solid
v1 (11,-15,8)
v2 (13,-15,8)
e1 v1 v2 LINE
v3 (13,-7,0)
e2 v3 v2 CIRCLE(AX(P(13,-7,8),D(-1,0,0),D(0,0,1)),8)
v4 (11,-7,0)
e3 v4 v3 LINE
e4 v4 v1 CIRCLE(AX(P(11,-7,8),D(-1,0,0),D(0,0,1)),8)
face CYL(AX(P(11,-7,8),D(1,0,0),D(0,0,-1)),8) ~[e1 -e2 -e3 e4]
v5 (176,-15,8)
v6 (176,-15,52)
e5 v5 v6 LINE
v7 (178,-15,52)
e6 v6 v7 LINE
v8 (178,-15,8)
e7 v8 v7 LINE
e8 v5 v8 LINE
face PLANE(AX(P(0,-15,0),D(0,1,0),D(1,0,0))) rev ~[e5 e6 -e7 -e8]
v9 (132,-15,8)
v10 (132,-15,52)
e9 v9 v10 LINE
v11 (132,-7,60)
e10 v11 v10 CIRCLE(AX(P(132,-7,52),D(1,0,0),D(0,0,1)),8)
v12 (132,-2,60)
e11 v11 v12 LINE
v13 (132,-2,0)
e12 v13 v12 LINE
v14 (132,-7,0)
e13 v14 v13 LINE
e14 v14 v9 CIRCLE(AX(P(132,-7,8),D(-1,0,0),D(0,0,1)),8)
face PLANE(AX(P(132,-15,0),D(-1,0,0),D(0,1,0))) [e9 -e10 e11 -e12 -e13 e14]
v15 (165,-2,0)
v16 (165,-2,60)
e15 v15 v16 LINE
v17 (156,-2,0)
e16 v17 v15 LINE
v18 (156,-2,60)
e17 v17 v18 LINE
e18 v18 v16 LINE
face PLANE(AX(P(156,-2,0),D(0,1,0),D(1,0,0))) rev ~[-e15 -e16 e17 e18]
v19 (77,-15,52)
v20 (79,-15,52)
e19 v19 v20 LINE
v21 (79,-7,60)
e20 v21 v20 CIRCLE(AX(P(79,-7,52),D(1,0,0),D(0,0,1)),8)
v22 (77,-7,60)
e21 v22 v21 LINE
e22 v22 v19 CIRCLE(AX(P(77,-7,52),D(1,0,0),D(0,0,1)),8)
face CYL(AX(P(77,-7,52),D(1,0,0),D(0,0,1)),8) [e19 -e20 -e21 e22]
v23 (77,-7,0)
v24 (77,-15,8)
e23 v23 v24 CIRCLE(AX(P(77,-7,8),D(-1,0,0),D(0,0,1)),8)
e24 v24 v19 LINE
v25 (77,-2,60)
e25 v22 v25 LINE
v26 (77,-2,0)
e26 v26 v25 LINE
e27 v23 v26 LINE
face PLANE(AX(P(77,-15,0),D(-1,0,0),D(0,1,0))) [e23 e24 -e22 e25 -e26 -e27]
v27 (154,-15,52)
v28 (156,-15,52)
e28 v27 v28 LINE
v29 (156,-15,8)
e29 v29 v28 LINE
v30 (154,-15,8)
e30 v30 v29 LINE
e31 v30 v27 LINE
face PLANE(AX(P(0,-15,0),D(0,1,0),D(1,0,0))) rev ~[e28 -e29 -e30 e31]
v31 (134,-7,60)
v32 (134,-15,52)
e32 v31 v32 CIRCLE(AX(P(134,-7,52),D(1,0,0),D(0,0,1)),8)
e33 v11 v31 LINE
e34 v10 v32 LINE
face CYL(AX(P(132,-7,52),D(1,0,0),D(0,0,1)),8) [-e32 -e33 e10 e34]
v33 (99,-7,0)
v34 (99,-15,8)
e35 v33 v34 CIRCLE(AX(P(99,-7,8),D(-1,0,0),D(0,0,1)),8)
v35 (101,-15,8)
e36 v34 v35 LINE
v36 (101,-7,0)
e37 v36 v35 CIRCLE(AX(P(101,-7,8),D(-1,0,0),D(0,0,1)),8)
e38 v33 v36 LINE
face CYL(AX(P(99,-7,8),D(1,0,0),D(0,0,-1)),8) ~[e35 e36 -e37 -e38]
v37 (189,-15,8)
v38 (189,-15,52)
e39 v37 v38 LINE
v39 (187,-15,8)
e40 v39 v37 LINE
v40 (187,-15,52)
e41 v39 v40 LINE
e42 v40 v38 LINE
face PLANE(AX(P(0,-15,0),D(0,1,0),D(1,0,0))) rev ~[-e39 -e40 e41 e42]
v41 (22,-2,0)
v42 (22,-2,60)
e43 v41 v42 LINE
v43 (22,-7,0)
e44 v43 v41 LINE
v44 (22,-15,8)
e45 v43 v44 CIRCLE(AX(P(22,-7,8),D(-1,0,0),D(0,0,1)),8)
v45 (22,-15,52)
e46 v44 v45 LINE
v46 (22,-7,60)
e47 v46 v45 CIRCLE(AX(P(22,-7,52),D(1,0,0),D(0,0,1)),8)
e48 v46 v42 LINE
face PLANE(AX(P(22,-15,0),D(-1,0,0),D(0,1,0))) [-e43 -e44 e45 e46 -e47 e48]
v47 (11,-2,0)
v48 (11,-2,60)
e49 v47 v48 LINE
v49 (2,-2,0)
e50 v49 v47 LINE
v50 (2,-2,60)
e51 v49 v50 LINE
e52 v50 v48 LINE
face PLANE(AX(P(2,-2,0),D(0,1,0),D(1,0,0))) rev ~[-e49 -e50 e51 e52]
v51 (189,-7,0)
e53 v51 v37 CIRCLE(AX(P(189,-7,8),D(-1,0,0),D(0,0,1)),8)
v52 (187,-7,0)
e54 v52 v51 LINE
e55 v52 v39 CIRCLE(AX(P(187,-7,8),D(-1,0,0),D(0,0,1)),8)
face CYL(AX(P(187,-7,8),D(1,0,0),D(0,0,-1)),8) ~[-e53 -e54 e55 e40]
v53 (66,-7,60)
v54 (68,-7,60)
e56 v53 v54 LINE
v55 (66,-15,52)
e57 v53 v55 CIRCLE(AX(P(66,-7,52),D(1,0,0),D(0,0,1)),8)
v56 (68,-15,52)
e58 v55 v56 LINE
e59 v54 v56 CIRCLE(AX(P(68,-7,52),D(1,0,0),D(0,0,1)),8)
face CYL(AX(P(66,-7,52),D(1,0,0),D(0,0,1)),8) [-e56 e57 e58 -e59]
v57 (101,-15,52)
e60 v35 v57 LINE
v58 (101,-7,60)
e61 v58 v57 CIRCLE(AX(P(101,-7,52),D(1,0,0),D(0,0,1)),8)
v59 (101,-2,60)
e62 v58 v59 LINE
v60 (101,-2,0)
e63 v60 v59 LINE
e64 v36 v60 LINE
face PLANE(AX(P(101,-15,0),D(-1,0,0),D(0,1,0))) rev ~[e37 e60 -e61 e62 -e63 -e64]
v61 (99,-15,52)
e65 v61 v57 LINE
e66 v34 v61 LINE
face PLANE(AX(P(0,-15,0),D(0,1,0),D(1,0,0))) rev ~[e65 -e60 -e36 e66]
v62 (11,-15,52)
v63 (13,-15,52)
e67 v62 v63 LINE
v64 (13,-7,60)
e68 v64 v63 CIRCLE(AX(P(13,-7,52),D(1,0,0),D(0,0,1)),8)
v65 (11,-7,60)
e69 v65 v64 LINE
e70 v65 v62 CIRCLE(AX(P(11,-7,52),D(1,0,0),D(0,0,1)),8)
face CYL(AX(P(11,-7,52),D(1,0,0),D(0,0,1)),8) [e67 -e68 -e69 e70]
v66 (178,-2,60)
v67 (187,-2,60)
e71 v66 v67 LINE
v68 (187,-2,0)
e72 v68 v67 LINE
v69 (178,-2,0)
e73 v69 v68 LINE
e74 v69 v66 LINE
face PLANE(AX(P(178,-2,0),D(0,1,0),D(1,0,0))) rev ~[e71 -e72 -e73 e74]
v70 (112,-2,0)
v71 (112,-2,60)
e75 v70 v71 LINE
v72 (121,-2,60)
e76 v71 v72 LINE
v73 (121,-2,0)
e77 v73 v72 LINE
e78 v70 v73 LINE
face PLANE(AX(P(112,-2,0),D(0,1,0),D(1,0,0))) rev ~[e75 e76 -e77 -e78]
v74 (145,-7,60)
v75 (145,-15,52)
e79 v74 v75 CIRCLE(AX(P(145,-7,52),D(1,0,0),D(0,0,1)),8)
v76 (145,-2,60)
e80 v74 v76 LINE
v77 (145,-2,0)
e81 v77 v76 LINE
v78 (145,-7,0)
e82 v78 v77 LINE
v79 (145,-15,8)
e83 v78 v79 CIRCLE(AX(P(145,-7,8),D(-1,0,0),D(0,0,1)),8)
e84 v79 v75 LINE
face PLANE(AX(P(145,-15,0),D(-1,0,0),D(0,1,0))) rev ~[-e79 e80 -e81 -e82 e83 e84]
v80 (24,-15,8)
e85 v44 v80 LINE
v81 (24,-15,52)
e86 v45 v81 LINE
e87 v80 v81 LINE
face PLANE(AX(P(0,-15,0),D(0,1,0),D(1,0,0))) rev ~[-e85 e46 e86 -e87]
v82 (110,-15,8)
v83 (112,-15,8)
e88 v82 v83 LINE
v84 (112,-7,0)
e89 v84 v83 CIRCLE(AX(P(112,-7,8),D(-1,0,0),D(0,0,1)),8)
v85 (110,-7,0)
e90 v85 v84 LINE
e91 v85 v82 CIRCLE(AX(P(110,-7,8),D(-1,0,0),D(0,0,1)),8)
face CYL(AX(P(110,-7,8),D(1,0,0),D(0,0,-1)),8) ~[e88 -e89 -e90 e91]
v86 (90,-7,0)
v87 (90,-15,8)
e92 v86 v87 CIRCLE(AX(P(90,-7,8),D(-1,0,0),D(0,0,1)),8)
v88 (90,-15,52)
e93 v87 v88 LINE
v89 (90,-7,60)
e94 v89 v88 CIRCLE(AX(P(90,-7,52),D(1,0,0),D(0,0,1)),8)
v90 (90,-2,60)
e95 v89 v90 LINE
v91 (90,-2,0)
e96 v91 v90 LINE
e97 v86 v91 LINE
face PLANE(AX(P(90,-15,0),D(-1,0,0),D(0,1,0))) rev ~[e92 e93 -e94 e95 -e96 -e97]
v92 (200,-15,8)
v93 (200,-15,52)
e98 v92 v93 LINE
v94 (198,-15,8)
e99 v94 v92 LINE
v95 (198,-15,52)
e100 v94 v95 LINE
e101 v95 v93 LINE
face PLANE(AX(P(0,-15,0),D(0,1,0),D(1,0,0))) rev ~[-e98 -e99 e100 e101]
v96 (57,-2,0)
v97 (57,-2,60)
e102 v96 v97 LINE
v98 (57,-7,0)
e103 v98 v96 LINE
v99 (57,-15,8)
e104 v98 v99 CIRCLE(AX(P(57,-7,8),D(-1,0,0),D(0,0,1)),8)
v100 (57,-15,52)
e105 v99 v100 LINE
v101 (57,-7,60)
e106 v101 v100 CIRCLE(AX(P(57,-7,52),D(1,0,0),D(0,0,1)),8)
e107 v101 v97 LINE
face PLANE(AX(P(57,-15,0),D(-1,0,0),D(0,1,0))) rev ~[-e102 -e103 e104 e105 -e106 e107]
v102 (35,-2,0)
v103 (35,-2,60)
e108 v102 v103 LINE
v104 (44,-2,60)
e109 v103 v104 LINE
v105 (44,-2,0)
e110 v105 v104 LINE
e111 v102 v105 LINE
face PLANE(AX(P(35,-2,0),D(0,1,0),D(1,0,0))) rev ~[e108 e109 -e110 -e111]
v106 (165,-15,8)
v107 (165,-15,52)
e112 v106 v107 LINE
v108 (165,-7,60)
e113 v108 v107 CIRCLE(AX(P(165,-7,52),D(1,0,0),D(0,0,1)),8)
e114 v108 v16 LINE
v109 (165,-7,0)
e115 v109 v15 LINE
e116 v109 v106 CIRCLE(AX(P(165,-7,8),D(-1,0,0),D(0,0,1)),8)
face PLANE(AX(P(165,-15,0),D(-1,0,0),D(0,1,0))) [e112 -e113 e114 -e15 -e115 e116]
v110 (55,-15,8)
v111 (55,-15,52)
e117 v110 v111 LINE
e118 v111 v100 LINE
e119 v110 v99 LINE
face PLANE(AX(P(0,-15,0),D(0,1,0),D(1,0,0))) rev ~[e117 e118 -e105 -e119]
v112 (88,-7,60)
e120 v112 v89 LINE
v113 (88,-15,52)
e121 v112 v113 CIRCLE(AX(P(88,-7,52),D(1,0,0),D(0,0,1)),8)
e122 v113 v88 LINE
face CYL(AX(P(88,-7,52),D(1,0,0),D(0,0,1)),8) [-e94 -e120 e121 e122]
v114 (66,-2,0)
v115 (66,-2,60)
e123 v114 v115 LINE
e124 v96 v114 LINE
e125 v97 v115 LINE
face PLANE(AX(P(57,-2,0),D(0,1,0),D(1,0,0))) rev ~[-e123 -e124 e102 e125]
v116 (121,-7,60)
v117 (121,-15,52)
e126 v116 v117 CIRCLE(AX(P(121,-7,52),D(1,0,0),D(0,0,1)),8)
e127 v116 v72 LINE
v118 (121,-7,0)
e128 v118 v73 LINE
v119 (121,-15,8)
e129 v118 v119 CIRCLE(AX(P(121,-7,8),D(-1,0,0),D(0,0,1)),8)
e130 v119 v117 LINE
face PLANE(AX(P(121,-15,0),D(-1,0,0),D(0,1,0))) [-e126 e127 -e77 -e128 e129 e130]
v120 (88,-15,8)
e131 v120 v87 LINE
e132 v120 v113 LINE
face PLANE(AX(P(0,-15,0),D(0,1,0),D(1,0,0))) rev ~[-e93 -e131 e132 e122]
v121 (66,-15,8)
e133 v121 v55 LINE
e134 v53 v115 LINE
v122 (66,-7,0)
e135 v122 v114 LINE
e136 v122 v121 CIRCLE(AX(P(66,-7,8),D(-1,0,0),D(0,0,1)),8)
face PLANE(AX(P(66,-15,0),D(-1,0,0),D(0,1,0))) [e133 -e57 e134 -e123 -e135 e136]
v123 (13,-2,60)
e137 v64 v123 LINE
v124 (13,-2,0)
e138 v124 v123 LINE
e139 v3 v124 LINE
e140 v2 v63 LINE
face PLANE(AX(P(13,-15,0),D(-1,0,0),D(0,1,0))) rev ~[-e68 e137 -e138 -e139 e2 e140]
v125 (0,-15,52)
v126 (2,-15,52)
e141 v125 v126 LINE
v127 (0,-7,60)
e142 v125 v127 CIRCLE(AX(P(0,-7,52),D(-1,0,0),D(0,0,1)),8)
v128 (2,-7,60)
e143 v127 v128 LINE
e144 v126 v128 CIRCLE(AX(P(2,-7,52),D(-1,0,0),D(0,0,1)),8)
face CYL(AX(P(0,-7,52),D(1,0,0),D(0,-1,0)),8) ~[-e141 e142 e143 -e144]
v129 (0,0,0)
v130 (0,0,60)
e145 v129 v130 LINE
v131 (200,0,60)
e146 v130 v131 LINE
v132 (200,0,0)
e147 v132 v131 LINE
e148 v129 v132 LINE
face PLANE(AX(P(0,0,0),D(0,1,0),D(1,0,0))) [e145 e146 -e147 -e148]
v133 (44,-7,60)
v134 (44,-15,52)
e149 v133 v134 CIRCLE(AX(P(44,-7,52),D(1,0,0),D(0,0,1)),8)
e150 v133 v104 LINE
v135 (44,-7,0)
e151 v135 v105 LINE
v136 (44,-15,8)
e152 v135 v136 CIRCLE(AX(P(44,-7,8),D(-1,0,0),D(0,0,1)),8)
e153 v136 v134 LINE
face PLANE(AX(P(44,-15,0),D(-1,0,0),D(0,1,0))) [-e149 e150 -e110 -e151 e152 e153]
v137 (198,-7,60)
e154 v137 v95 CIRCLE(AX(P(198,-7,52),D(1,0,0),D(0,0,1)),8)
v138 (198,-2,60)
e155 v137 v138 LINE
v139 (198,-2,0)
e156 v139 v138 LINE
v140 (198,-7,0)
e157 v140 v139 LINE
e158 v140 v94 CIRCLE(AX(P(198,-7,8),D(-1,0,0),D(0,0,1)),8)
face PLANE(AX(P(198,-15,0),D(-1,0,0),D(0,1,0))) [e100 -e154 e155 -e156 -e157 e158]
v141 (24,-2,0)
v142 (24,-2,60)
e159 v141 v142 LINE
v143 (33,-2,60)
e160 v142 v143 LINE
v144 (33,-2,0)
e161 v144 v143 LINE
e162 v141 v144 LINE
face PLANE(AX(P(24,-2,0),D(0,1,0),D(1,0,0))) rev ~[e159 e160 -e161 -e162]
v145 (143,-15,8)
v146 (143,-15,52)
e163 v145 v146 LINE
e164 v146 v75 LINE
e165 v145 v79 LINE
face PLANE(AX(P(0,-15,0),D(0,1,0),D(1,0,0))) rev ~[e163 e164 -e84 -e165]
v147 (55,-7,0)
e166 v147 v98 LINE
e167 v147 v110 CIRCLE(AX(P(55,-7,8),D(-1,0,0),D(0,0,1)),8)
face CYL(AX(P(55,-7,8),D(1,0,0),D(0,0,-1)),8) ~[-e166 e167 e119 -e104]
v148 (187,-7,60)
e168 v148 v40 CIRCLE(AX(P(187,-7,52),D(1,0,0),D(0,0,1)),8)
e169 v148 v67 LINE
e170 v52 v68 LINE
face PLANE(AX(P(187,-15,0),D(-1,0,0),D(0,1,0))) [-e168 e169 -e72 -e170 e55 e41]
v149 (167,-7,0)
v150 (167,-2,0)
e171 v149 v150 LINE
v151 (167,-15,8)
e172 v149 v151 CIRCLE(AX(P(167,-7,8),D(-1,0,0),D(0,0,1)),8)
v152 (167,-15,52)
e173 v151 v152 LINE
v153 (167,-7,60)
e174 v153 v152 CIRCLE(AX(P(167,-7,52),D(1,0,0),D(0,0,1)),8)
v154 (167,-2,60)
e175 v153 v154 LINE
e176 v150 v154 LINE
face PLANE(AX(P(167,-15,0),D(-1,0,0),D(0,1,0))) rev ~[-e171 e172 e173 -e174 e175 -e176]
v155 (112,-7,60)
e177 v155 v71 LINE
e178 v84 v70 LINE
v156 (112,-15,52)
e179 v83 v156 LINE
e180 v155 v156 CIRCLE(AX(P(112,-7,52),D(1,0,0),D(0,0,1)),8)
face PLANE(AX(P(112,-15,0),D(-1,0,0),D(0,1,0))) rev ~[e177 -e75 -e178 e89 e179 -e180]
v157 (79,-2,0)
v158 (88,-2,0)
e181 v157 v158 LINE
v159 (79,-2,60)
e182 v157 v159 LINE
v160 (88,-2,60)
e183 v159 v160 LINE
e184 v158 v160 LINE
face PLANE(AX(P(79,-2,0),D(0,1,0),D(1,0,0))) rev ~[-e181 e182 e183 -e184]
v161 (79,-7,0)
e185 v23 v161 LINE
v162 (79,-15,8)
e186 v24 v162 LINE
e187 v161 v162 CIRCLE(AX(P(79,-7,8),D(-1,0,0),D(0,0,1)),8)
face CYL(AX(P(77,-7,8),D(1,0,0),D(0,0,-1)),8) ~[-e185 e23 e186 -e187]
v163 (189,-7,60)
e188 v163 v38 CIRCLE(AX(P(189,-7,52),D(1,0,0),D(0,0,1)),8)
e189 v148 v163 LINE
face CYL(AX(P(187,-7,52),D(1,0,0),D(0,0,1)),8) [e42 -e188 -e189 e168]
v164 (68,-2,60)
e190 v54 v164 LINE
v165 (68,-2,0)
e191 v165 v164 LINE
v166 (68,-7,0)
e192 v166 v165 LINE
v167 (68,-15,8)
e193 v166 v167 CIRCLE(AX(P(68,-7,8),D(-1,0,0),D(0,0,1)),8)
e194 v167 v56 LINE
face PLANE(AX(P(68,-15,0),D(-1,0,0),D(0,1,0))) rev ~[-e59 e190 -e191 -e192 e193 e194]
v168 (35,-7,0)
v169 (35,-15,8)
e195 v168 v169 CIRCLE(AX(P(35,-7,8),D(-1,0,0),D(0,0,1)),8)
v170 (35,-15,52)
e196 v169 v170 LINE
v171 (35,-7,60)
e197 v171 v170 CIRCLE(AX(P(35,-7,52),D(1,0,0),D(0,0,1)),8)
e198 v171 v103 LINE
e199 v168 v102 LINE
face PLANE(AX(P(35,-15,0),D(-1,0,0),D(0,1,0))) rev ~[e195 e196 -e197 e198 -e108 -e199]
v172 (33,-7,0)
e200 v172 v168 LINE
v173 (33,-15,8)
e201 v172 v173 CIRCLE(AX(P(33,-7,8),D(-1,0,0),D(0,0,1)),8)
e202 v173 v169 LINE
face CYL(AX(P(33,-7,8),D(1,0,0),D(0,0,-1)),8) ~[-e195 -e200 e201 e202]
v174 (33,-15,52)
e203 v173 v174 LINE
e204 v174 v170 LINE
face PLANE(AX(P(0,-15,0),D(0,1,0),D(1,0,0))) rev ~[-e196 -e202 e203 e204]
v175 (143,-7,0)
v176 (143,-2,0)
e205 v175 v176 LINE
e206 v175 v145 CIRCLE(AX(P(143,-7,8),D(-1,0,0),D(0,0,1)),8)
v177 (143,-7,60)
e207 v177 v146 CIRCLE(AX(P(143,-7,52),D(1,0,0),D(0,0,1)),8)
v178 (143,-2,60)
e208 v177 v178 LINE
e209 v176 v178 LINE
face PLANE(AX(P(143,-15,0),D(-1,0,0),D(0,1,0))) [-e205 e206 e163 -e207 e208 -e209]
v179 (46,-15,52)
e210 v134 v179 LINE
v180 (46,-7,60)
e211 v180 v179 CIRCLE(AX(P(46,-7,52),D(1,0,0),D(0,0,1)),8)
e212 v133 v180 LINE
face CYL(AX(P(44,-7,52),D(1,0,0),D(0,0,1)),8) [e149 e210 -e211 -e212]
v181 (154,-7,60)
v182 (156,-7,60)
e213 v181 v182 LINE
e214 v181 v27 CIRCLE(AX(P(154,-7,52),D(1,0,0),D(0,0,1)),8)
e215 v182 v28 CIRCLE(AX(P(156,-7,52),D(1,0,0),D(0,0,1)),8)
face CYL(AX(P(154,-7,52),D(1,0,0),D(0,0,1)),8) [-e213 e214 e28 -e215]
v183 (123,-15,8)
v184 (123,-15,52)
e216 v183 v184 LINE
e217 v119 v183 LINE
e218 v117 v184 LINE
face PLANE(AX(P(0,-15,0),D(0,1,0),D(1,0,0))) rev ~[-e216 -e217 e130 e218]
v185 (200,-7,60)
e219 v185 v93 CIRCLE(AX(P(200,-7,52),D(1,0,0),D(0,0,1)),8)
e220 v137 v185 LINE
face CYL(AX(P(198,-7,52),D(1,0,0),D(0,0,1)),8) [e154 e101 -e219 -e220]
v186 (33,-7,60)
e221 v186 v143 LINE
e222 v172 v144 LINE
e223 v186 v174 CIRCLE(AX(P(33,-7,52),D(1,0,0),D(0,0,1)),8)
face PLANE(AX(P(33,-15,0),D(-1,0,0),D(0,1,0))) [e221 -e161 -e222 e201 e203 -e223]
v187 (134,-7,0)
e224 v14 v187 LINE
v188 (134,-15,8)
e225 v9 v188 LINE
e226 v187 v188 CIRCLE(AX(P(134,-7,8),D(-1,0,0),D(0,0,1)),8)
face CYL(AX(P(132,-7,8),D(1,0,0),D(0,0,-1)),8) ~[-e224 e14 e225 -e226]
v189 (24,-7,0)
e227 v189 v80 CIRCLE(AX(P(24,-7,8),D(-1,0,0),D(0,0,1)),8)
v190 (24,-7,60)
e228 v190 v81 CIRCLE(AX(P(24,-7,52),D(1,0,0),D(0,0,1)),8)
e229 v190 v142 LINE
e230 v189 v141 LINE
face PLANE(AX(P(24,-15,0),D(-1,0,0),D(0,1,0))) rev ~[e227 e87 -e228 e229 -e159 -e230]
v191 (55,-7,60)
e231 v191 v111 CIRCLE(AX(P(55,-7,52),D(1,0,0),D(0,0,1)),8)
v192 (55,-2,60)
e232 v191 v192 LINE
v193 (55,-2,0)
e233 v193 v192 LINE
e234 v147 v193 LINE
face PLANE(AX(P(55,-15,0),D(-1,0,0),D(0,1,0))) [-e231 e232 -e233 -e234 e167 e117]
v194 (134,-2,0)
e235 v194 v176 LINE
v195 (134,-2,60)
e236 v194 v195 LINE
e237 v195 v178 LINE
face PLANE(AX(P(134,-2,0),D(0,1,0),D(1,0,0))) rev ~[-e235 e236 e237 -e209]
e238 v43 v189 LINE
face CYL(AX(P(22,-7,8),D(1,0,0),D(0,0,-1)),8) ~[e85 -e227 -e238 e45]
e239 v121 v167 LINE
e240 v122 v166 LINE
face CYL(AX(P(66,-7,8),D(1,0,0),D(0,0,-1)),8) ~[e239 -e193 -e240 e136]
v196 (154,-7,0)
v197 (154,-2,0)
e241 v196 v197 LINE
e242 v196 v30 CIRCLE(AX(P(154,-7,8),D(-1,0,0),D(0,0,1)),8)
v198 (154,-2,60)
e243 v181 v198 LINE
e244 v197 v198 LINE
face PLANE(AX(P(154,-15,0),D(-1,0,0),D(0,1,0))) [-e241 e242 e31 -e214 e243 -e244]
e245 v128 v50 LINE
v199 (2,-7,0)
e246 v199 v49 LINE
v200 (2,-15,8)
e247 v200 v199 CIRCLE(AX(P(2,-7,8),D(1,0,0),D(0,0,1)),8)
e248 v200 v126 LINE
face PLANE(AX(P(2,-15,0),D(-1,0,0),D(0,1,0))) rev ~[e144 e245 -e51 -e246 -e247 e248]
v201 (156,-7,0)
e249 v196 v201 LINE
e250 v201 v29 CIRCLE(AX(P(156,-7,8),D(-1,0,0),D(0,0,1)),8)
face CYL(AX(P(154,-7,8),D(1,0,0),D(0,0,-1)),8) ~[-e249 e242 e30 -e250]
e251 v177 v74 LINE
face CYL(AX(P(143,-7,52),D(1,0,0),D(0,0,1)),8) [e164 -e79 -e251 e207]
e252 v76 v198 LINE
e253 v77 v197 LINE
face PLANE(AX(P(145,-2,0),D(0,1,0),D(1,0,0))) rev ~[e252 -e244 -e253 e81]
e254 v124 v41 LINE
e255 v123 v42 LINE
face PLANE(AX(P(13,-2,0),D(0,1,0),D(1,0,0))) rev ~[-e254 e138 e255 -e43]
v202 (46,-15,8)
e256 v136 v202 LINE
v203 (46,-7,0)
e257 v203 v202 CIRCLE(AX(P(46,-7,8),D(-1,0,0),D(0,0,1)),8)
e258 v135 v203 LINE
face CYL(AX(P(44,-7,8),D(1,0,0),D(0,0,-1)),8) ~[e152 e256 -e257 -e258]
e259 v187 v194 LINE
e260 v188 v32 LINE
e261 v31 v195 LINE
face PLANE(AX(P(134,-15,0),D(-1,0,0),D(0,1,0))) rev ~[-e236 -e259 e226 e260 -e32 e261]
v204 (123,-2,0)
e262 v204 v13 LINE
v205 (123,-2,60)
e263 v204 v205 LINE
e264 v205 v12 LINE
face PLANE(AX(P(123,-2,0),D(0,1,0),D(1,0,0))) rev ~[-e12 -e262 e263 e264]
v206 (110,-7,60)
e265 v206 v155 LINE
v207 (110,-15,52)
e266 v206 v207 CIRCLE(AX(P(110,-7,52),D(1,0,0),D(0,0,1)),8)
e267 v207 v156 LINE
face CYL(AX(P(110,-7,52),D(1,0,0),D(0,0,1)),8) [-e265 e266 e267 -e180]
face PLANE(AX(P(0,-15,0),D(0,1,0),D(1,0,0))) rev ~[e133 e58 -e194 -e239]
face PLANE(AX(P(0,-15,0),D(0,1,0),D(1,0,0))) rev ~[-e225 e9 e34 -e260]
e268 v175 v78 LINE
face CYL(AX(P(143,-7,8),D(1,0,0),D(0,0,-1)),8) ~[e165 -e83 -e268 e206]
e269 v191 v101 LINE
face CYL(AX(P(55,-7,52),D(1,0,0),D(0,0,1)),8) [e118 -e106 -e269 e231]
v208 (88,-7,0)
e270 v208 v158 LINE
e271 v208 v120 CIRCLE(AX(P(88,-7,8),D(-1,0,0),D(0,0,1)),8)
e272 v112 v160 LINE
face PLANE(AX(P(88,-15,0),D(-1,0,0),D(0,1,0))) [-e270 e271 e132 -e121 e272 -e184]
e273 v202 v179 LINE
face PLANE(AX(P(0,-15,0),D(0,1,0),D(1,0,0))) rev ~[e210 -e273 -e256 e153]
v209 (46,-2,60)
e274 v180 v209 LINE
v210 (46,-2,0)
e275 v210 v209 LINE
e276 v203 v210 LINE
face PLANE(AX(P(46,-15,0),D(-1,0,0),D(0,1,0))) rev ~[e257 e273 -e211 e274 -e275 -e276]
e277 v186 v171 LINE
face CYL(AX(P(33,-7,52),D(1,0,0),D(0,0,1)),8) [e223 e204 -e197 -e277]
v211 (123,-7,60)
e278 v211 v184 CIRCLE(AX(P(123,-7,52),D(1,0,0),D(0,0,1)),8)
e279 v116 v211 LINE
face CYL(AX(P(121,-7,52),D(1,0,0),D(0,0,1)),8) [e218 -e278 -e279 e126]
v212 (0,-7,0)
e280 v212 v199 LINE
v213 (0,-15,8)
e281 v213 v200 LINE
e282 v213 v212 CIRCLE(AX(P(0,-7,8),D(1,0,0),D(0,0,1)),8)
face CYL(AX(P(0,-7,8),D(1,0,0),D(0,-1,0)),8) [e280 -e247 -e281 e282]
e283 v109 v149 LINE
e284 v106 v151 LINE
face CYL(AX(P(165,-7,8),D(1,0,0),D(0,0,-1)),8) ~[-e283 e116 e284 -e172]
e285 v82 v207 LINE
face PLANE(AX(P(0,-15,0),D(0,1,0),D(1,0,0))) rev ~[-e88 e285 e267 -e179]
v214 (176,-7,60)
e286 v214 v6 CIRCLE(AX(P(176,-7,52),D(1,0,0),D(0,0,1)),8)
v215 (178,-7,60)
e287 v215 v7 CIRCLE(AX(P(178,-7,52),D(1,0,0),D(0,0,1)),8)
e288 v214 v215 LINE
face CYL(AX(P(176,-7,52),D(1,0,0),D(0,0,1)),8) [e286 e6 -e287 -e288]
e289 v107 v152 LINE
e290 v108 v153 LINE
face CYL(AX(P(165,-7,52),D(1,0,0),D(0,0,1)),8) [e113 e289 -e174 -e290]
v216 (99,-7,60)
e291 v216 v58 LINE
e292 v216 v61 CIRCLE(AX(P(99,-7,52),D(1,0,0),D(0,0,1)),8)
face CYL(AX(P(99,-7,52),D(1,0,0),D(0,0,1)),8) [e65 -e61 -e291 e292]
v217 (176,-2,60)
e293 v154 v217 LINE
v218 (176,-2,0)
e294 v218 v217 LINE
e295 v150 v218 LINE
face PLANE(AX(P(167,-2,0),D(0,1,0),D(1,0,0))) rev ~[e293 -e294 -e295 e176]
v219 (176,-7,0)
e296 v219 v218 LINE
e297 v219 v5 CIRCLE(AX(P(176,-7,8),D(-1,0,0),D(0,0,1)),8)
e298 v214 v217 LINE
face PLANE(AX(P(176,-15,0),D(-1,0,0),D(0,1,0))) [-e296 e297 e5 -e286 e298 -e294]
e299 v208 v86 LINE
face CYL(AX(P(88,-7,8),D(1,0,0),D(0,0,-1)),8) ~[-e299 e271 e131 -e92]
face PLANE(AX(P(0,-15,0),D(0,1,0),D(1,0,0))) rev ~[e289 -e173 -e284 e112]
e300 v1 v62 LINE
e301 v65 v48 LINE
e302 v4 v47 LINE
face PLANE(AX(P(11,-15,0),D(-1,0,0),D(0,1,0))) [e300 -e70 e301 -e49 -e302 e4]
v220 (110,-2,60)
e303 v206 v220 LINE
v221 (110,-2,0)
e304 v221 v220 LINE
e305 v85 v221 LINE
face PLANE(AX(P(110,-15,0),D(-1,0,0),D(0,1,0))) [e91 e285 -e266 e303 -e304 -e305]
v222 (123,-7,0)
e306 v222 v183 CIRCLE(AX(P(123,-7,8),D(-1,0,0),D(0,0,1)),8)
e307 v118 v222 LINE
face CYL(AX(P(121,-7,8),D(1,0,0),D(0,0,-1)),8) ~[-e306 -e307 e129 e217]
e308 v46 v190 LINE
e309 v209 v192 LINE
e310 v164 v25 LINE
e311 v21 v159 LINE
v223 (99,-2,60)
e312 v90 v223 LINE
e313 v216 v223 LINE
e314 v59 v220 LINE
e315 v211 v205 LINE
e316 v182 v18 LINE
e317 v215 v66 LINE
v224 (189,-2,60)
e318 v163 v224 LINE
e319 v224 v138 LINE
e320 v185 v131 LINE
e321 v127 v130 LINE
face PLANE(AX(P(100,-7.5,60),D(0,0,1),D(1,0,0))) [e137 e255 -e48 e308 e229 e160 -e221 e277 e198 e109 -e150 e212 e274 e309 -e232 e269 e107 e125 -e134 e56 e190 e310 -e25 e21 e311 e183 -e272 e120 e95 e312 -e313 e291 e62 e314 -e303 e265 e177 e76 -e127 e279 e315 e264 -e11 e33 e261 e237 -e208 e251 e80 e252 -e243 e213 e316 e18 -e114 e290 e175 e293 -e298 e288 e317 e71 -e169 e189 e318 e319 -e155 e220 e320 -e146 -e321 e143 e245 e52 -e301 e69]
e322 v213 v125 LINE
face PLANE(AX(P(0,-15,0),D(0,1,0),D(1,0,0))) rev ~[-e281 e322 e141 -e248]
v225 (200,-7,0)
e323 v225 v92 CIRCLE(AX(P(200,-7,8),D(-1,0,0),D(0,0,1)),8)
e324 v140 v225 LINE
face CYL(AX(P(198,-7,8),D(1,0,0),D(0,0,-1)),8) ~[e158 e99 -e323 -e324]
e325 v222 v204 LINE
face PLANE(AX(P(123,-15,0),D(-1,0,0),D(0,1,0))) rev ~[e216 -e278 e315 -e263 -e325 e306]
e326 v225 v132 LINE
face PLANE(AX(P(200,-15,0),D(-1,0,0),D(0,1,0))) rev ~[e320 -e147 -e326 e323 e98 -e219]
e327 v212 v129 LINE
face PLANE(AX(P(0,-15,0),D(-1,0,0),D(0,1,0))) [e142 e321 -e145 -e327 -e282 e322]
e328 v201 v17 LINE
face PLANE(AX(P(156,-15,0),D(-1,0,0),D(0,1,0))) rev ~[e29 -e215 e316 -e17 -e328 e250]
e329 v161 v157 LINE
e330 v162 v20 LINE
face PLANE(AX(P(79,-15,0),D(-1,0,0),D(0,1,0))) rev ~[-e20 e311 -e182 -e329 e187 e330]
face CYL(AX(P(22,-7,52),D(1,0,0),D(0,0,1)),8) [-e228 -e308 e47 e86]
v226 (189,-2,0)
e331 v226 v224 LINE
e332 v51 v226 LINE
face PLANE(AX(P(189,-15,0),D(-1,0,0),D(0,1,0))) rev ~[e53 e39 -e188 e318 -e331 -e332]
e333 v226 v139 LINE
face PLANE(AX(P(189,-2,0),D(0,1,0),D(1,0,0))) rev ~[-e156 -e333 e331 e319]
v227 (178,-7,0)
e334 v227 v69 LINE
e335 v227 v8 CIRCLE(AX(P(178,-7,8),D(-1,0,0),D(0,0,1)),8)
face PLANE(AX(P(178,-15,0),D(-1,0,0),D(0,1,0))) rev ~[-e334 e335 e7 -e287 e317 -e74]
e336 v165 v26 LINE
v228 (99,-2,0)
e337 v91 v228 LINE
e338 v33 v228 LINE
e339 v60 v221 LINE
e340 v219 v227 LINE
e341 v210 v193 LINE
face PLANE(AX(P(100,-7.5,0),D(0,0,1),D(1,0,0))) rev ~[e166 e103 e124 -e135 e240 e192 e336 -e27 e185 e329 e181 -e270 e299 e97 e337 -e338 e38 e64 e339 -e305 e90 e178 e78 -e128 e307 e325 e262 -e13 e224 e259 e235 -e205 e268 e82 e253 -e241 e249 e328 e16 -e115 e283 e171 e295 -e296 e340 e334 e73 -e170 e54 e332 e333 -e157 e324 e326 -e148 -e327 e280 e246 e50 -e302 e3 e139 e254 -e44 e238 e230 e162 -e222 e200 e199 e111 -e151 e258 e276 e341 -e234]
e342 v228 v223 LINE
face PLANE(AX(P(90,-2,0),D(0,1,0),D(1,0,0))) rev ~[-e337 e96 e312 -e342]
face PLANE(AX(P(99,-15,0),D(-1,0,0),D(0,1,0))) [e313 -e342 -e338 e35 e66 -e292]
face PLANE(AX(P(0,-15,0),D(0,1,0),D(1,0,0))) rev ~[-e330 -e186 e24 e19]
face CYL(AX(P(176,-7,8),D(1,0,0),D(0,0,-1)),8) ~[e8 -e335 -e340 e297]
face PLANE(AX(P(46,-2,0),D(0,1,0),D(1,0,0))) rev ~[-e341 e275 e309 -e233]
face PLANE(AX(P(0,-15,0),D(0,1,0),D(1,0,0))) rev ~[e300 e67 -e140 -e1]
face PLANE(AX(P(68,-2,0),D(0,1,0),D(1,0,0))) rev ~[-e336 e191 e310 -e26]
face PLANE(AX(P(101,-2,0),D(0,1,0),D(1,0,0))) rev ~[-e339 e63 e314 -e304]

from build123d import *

# Parameters (mm, degrees)
BOX016_W     = 9
BOX016_H     = 13
BOX016_DEPTH = 60
BOX004_W     = 9
BOX004_H     = 13
BOX004_DEPTH = 60
BOX005_W     = 9
BOX005_H     = 13
BOX005_DEPTH = 60
BOX006_W     = 9
BOX006_H     = 13
BOX006_DEPTH = 60
BOX007_W     = 9
BOX007_H     = 13
BOX007_DEPTH = 60
BOX008_W     = 9
BOX008_H     = 13
BOX008_DEPTH = 60
BOX009_W     = 9
BOX009_H     = 13
BOX009_DEPTH = 60
BOX010_W     = 9
BOX010_H     = 13
BOX010_DEPTH = 60
BOX011_W     = 9
BOX011_H     = 13
BOX011_DEPTH = 60
BOX012_W     = 9
BOX012_H     = 13
BOX012_DEPTH = 60
BOX013_W     = 9
BOX013_H     = 13
BOX013_DEPTH = 60
BOX014_W     = 9
BOX014_H     = 13
BOX014_DEPTH = 60
BOX015_W     = 9
BOX015_H     = 13
BOX015_DEPTH = 60
BOX017_W     = 9
BOX017_H     = 13
BOX017_DEPTH = 60
BOX018_W     = 9
BOX018_H     = 13
BOX018_DEPTH = 60
BOX019_W     = 9
BOX019_H     = 13
BOX019_DEPTH = 60
BOX020_W     = 9
BOX020_H     = 13
BOX020_DEPTH = 60
BOX003_W     = 9
BOX003_H     = 13
BOX003_DEPTH = 60
BOX002_W     = 200
BOX002_H     = 15
BOX002_DEPTH = 60
FILLET_R     = 8


with BuildPart() as cube016:
    # Box016 → Box016 (new body)
    with BuildSketch(Plane(origin=(145, -15, 0), x_dir=(1, 0, 0), z_dir=(0, 0, 1))):
        with Locations((4.5, 6.5)):
            Rectangle(BOX016_W, BOX016_H)
    extrude(amount=BOX016_DEPTH)


with BuildPart() as cube004:
    # Box004 → Box004 (new body)
    with BuildSketch(Plane(origin=(13, -15, 0), x_dir=(1, 0, 0), z_dir=(0, 0, 1))):
        with Locations((4.5, 6.5)):
            Rectangle(BOX004_W, BOX004_H)
    extrude(amount=BOX004_DEPTH)


with BuildPart() as cube005:
    # Box005 → Box005 (new body)
    with BuildSketch(Plane(origin=(24, -15, 0), x_dir=(1, 0, 0), z_dir=(0, 0, 1))):
        with Locations((4.5, 6.5)):
            Rectangle(BOX005_W, BOX005_H)
    extrude(amount=BOX005_DEPTH)


with BuildPart() as cube006:
    # Box006 → Box006 (new body)
    with BuildSketch(Plane(origin=(35, -15, 0), x_dir=(1, 0, 0), z_dir=(0, 0, 1))):
        with Locations((4.5, 6.5)):
            Rectangle(BOX006_W, BOX006_H)
    extrude(amount=BOX006_DEPTH)


with BuildPart() as cube007:
    # Box007 → Box007 (new body)
    with BuildSketch(Plane(origin=(46, -15, 0), x_dir=(1, 0, 0), z_dir=(0, 0, 1))):
        with Locations((4.5, 6.5)):
            Rectangle(BOX007_W, BOX007_H)
    extrude(amount=BOX007_DEPTH)


with BuildPart() as cube008:
    # Box008 → Box008 (new body)
    with BuildSketch(Plane(origin=(57, -15, 0), x_dir=(1, 0, 0), z_dir=(0, 0, 1))):
        with Locations((4.5, 6.5)):
            Rectangle(BOX008_W, BOX008_H)
    extrude(amount=BOX008_DEPTH)


with BuildPart() as cube009:
    # Box009 → Box009 (new body)
    with BuildSketch(Plane(origin=(68, -15, 0), x_dir=(1, 0, 0), z_dir=(0, 0, 1))):
        with Locations((4.5, 6.5)):
            Rectangle(BOX009_W, BOX009_H)
    extrude(amount=BOX009_DEPTH)


with BuildPart() as cube010:
    # Box010 → Box010 (new body)
    with BuildSketch(Plane(origin=(79, -15, 0), x_dir=(1, 0, 0), z_dir=(0, 0, 1))):
        with Locations((4.5, 6.5)):
            Rectangle(BOX010_W, BOX010_H)
    extrude(amount=BOX010_DEPTH)


with BuildPart() as cube011:
    # Box011 → Box011 (new body)
    with BuildSketch(Plane(origin=(90, -15, 0), x_dir=(1, 0, 0), z_dir=(0, 0, 1))):
        with Locations((4.5, 6.5)):
            Rectangle(BOX011_W, BOX011_H)
    extrude(amount=BOX011_DEPTH)


with BuildPart() as cube012:
    # Box012 → Box012 (new body)
    with BuildSketch(Plane(origin=(101, -15, 0), x_dir=(1, 0, 0), z_dir=(0, 0, 1))):
        with Locations((4.5, 6.5)):
            Rectangle(BOX012_W, BOX012_H)
    extrude(amount=BOX012_DEPTH)


with BuildPart() as cube013:
    # Box013 → Box013 (new body)
    with BuildSketch(Plane(origin=(112, -15, 0), x_dir=(1, 0, 0), z_dir=(0, 0, 1))):
        with Locations((4.5, 6.5)):
            Rectangle(BOX013_W, BOX013_H)
    extrude(amount=BOX013_DEPTH)


with BuildPart() as cube014:
    # Box014 → Box014 (new body)
    with BuildSketch(Plane(origin=(123, -15, 0), x_dir=(1, 0, 0), z_dir=(0, 0, 1))):
        with Locations((4.5, 6.5)):
            Rectangle(BOX014_W, BOX014_H)
    extrude(amount=BOX014_DEPTH)


with BuildPart() as cube015:
    # Box015 → Box015 (new body)
    with BuildSketch(Plane(origin=(134, -15, 0), x_dir=(1, 0, 0), z_dir=(0, 0, 1))):
        with Locations((4.5, 6.5)):
            Rectangle(BOX015_W, BOX015_H)
    extrude(amount=BOX015_DEPTH)


with BuildPart() as cube017:
    # Box017 → Box017 (new body)
    with BuildSketch(Plane(origin=(156, -15, 0), x_dir=(1, 0, 0), z_dir=(0, 0, 1))):
        with Locations((4.5, 6.5)):
            Rectangle(BOX017_W, BOX017_H)
    extrude(amount=BOX017_DEPTH)


with BuildPart() as cube018:
    # Box018 → Box018 (new body)
    with BuildSketch(Plane(origin=(167, -15, 0), x_dir=(1, 0, 0), z_dir=(0, 0, 1))):
        with Locations((4.5, 6.5)):
            Rectangle(BOX018_W, BOX018_H)
    extrude(amount=BOX018_DEPTH)


with BuildPart() as cube019:
    # Box019 → Box019 (new body)
    with BuildSketch(Plane(origin=(178, -15, 0), x_dir=(1, 0, 0), z_dir=(0, 0, 1))):
        with Locations((4.5, 6.5)):
            Rectangle(BOX019_W, BOX019_H)
    extrude(amount=BOX019_DEPTH)


with BuildPart() as cube020:
    # Box020 → Box020 (new body)
    with BuildSketch(Plane(origin=(189, -15, 0), x_dir=(1, 0, 0), z_dir=(0, 0, 1))):
        with Locations((4.5, 6.5)):
            Rectangle(BOX020_W, BOX020_H)
    extrude(amount=BOX020_DEPTH)


with BuildPart() as compound:
    # Box003 → Box003 (new body)
    with BuildSketch(Plane(origin=(2, -15, 0), x_dir=(1, 0, 0), z_dir=(0, 0, 1))):
        with Locations((4.5, 6.5)):
            Rectangle(BOX003_W, BOX003_H)
    extrude(amount=BOX003_DEPTH)

    # Compound: union Cube016, Cube004, Cube005, Cube006, Cube007, Cube008, Cube009, Cube010, Cube011, Cube012, Cube013, Cube014, Cube015, Cube017, Cube018, Cube019, Cube020
    add(cube016.part)
    add(cube004.part)
    add(cube005.part)
    add(cube006.part)
    add(cube007.part)
    add(cube008.part)
    add(cube009.part)
    add(cube010.part)
    add(cube011.part)
    add(cube012.part)
    add(cube013.part)
    add(cube014.part)
    add(cube015.part)
    add(cube017.part)
    add(cube018.part)
    add(cube019.part)
    add(cube020.part)


with BuildPart() as left_heatsink:
    # Box002 → Box002 (new body)
    with BuildSketch(Plane(origin=(0, -15, 0), x_dir=(1, 0, 0), z_dir=(0, 0, 1))):
        with Locations((100, 7.5)):
            Rectangle(BOX002_W, BOX002_H)
    extrude(amount=BOX002_DEPTH)

    # Cut001: cut Compound
    add(compound.part, mode=Mode.SUBTRACT)

    # Fillet
    fillet_edges = [left_heatsink.edges().sort_by_distance(p)[0] for p in [
        (1, -15, 0),
        (1, -15, 60),
        (199, -15, 60),
        (188, -15, 60),
        (177, -15, 60),
        (166, -15, 60),
        (155, -15, 60),
        (144, -15, 60),
        (133, -15, 60),
        (122, -15, 60),
        (111, -15, 60),
        (100, -15, 60),
        (89, -15, 60),
        (78, -15, 60),
        (67, -15, 60),
        (56, -15, 60),
        (45, -15, 60),
        (34, -15, 60),
        (23, -15, 60),
        (12, -15, 60),
        (199, -15, 0),
        (188, -15, 0),
        (177, -15, 0),
        (166, -15, 0),
        (155, -15, 0),
        (144, -15, 0),
        (133, -15, 0),
        (122, -15, 0),
        (111, -15, 0),
        (100, -15, 0),
        (89, -15, 0),
        (78, -15, 0),
        (67, -15, 0),
        (56, -15, 0),
        (45, -15, 0),
        (34, -15, 0),
        (23, -15, 0),
        (12, -15, 0),
    ]]
    fillet(fillet_edges, radius=FILLET_R)


solid = left_heatsink.part
